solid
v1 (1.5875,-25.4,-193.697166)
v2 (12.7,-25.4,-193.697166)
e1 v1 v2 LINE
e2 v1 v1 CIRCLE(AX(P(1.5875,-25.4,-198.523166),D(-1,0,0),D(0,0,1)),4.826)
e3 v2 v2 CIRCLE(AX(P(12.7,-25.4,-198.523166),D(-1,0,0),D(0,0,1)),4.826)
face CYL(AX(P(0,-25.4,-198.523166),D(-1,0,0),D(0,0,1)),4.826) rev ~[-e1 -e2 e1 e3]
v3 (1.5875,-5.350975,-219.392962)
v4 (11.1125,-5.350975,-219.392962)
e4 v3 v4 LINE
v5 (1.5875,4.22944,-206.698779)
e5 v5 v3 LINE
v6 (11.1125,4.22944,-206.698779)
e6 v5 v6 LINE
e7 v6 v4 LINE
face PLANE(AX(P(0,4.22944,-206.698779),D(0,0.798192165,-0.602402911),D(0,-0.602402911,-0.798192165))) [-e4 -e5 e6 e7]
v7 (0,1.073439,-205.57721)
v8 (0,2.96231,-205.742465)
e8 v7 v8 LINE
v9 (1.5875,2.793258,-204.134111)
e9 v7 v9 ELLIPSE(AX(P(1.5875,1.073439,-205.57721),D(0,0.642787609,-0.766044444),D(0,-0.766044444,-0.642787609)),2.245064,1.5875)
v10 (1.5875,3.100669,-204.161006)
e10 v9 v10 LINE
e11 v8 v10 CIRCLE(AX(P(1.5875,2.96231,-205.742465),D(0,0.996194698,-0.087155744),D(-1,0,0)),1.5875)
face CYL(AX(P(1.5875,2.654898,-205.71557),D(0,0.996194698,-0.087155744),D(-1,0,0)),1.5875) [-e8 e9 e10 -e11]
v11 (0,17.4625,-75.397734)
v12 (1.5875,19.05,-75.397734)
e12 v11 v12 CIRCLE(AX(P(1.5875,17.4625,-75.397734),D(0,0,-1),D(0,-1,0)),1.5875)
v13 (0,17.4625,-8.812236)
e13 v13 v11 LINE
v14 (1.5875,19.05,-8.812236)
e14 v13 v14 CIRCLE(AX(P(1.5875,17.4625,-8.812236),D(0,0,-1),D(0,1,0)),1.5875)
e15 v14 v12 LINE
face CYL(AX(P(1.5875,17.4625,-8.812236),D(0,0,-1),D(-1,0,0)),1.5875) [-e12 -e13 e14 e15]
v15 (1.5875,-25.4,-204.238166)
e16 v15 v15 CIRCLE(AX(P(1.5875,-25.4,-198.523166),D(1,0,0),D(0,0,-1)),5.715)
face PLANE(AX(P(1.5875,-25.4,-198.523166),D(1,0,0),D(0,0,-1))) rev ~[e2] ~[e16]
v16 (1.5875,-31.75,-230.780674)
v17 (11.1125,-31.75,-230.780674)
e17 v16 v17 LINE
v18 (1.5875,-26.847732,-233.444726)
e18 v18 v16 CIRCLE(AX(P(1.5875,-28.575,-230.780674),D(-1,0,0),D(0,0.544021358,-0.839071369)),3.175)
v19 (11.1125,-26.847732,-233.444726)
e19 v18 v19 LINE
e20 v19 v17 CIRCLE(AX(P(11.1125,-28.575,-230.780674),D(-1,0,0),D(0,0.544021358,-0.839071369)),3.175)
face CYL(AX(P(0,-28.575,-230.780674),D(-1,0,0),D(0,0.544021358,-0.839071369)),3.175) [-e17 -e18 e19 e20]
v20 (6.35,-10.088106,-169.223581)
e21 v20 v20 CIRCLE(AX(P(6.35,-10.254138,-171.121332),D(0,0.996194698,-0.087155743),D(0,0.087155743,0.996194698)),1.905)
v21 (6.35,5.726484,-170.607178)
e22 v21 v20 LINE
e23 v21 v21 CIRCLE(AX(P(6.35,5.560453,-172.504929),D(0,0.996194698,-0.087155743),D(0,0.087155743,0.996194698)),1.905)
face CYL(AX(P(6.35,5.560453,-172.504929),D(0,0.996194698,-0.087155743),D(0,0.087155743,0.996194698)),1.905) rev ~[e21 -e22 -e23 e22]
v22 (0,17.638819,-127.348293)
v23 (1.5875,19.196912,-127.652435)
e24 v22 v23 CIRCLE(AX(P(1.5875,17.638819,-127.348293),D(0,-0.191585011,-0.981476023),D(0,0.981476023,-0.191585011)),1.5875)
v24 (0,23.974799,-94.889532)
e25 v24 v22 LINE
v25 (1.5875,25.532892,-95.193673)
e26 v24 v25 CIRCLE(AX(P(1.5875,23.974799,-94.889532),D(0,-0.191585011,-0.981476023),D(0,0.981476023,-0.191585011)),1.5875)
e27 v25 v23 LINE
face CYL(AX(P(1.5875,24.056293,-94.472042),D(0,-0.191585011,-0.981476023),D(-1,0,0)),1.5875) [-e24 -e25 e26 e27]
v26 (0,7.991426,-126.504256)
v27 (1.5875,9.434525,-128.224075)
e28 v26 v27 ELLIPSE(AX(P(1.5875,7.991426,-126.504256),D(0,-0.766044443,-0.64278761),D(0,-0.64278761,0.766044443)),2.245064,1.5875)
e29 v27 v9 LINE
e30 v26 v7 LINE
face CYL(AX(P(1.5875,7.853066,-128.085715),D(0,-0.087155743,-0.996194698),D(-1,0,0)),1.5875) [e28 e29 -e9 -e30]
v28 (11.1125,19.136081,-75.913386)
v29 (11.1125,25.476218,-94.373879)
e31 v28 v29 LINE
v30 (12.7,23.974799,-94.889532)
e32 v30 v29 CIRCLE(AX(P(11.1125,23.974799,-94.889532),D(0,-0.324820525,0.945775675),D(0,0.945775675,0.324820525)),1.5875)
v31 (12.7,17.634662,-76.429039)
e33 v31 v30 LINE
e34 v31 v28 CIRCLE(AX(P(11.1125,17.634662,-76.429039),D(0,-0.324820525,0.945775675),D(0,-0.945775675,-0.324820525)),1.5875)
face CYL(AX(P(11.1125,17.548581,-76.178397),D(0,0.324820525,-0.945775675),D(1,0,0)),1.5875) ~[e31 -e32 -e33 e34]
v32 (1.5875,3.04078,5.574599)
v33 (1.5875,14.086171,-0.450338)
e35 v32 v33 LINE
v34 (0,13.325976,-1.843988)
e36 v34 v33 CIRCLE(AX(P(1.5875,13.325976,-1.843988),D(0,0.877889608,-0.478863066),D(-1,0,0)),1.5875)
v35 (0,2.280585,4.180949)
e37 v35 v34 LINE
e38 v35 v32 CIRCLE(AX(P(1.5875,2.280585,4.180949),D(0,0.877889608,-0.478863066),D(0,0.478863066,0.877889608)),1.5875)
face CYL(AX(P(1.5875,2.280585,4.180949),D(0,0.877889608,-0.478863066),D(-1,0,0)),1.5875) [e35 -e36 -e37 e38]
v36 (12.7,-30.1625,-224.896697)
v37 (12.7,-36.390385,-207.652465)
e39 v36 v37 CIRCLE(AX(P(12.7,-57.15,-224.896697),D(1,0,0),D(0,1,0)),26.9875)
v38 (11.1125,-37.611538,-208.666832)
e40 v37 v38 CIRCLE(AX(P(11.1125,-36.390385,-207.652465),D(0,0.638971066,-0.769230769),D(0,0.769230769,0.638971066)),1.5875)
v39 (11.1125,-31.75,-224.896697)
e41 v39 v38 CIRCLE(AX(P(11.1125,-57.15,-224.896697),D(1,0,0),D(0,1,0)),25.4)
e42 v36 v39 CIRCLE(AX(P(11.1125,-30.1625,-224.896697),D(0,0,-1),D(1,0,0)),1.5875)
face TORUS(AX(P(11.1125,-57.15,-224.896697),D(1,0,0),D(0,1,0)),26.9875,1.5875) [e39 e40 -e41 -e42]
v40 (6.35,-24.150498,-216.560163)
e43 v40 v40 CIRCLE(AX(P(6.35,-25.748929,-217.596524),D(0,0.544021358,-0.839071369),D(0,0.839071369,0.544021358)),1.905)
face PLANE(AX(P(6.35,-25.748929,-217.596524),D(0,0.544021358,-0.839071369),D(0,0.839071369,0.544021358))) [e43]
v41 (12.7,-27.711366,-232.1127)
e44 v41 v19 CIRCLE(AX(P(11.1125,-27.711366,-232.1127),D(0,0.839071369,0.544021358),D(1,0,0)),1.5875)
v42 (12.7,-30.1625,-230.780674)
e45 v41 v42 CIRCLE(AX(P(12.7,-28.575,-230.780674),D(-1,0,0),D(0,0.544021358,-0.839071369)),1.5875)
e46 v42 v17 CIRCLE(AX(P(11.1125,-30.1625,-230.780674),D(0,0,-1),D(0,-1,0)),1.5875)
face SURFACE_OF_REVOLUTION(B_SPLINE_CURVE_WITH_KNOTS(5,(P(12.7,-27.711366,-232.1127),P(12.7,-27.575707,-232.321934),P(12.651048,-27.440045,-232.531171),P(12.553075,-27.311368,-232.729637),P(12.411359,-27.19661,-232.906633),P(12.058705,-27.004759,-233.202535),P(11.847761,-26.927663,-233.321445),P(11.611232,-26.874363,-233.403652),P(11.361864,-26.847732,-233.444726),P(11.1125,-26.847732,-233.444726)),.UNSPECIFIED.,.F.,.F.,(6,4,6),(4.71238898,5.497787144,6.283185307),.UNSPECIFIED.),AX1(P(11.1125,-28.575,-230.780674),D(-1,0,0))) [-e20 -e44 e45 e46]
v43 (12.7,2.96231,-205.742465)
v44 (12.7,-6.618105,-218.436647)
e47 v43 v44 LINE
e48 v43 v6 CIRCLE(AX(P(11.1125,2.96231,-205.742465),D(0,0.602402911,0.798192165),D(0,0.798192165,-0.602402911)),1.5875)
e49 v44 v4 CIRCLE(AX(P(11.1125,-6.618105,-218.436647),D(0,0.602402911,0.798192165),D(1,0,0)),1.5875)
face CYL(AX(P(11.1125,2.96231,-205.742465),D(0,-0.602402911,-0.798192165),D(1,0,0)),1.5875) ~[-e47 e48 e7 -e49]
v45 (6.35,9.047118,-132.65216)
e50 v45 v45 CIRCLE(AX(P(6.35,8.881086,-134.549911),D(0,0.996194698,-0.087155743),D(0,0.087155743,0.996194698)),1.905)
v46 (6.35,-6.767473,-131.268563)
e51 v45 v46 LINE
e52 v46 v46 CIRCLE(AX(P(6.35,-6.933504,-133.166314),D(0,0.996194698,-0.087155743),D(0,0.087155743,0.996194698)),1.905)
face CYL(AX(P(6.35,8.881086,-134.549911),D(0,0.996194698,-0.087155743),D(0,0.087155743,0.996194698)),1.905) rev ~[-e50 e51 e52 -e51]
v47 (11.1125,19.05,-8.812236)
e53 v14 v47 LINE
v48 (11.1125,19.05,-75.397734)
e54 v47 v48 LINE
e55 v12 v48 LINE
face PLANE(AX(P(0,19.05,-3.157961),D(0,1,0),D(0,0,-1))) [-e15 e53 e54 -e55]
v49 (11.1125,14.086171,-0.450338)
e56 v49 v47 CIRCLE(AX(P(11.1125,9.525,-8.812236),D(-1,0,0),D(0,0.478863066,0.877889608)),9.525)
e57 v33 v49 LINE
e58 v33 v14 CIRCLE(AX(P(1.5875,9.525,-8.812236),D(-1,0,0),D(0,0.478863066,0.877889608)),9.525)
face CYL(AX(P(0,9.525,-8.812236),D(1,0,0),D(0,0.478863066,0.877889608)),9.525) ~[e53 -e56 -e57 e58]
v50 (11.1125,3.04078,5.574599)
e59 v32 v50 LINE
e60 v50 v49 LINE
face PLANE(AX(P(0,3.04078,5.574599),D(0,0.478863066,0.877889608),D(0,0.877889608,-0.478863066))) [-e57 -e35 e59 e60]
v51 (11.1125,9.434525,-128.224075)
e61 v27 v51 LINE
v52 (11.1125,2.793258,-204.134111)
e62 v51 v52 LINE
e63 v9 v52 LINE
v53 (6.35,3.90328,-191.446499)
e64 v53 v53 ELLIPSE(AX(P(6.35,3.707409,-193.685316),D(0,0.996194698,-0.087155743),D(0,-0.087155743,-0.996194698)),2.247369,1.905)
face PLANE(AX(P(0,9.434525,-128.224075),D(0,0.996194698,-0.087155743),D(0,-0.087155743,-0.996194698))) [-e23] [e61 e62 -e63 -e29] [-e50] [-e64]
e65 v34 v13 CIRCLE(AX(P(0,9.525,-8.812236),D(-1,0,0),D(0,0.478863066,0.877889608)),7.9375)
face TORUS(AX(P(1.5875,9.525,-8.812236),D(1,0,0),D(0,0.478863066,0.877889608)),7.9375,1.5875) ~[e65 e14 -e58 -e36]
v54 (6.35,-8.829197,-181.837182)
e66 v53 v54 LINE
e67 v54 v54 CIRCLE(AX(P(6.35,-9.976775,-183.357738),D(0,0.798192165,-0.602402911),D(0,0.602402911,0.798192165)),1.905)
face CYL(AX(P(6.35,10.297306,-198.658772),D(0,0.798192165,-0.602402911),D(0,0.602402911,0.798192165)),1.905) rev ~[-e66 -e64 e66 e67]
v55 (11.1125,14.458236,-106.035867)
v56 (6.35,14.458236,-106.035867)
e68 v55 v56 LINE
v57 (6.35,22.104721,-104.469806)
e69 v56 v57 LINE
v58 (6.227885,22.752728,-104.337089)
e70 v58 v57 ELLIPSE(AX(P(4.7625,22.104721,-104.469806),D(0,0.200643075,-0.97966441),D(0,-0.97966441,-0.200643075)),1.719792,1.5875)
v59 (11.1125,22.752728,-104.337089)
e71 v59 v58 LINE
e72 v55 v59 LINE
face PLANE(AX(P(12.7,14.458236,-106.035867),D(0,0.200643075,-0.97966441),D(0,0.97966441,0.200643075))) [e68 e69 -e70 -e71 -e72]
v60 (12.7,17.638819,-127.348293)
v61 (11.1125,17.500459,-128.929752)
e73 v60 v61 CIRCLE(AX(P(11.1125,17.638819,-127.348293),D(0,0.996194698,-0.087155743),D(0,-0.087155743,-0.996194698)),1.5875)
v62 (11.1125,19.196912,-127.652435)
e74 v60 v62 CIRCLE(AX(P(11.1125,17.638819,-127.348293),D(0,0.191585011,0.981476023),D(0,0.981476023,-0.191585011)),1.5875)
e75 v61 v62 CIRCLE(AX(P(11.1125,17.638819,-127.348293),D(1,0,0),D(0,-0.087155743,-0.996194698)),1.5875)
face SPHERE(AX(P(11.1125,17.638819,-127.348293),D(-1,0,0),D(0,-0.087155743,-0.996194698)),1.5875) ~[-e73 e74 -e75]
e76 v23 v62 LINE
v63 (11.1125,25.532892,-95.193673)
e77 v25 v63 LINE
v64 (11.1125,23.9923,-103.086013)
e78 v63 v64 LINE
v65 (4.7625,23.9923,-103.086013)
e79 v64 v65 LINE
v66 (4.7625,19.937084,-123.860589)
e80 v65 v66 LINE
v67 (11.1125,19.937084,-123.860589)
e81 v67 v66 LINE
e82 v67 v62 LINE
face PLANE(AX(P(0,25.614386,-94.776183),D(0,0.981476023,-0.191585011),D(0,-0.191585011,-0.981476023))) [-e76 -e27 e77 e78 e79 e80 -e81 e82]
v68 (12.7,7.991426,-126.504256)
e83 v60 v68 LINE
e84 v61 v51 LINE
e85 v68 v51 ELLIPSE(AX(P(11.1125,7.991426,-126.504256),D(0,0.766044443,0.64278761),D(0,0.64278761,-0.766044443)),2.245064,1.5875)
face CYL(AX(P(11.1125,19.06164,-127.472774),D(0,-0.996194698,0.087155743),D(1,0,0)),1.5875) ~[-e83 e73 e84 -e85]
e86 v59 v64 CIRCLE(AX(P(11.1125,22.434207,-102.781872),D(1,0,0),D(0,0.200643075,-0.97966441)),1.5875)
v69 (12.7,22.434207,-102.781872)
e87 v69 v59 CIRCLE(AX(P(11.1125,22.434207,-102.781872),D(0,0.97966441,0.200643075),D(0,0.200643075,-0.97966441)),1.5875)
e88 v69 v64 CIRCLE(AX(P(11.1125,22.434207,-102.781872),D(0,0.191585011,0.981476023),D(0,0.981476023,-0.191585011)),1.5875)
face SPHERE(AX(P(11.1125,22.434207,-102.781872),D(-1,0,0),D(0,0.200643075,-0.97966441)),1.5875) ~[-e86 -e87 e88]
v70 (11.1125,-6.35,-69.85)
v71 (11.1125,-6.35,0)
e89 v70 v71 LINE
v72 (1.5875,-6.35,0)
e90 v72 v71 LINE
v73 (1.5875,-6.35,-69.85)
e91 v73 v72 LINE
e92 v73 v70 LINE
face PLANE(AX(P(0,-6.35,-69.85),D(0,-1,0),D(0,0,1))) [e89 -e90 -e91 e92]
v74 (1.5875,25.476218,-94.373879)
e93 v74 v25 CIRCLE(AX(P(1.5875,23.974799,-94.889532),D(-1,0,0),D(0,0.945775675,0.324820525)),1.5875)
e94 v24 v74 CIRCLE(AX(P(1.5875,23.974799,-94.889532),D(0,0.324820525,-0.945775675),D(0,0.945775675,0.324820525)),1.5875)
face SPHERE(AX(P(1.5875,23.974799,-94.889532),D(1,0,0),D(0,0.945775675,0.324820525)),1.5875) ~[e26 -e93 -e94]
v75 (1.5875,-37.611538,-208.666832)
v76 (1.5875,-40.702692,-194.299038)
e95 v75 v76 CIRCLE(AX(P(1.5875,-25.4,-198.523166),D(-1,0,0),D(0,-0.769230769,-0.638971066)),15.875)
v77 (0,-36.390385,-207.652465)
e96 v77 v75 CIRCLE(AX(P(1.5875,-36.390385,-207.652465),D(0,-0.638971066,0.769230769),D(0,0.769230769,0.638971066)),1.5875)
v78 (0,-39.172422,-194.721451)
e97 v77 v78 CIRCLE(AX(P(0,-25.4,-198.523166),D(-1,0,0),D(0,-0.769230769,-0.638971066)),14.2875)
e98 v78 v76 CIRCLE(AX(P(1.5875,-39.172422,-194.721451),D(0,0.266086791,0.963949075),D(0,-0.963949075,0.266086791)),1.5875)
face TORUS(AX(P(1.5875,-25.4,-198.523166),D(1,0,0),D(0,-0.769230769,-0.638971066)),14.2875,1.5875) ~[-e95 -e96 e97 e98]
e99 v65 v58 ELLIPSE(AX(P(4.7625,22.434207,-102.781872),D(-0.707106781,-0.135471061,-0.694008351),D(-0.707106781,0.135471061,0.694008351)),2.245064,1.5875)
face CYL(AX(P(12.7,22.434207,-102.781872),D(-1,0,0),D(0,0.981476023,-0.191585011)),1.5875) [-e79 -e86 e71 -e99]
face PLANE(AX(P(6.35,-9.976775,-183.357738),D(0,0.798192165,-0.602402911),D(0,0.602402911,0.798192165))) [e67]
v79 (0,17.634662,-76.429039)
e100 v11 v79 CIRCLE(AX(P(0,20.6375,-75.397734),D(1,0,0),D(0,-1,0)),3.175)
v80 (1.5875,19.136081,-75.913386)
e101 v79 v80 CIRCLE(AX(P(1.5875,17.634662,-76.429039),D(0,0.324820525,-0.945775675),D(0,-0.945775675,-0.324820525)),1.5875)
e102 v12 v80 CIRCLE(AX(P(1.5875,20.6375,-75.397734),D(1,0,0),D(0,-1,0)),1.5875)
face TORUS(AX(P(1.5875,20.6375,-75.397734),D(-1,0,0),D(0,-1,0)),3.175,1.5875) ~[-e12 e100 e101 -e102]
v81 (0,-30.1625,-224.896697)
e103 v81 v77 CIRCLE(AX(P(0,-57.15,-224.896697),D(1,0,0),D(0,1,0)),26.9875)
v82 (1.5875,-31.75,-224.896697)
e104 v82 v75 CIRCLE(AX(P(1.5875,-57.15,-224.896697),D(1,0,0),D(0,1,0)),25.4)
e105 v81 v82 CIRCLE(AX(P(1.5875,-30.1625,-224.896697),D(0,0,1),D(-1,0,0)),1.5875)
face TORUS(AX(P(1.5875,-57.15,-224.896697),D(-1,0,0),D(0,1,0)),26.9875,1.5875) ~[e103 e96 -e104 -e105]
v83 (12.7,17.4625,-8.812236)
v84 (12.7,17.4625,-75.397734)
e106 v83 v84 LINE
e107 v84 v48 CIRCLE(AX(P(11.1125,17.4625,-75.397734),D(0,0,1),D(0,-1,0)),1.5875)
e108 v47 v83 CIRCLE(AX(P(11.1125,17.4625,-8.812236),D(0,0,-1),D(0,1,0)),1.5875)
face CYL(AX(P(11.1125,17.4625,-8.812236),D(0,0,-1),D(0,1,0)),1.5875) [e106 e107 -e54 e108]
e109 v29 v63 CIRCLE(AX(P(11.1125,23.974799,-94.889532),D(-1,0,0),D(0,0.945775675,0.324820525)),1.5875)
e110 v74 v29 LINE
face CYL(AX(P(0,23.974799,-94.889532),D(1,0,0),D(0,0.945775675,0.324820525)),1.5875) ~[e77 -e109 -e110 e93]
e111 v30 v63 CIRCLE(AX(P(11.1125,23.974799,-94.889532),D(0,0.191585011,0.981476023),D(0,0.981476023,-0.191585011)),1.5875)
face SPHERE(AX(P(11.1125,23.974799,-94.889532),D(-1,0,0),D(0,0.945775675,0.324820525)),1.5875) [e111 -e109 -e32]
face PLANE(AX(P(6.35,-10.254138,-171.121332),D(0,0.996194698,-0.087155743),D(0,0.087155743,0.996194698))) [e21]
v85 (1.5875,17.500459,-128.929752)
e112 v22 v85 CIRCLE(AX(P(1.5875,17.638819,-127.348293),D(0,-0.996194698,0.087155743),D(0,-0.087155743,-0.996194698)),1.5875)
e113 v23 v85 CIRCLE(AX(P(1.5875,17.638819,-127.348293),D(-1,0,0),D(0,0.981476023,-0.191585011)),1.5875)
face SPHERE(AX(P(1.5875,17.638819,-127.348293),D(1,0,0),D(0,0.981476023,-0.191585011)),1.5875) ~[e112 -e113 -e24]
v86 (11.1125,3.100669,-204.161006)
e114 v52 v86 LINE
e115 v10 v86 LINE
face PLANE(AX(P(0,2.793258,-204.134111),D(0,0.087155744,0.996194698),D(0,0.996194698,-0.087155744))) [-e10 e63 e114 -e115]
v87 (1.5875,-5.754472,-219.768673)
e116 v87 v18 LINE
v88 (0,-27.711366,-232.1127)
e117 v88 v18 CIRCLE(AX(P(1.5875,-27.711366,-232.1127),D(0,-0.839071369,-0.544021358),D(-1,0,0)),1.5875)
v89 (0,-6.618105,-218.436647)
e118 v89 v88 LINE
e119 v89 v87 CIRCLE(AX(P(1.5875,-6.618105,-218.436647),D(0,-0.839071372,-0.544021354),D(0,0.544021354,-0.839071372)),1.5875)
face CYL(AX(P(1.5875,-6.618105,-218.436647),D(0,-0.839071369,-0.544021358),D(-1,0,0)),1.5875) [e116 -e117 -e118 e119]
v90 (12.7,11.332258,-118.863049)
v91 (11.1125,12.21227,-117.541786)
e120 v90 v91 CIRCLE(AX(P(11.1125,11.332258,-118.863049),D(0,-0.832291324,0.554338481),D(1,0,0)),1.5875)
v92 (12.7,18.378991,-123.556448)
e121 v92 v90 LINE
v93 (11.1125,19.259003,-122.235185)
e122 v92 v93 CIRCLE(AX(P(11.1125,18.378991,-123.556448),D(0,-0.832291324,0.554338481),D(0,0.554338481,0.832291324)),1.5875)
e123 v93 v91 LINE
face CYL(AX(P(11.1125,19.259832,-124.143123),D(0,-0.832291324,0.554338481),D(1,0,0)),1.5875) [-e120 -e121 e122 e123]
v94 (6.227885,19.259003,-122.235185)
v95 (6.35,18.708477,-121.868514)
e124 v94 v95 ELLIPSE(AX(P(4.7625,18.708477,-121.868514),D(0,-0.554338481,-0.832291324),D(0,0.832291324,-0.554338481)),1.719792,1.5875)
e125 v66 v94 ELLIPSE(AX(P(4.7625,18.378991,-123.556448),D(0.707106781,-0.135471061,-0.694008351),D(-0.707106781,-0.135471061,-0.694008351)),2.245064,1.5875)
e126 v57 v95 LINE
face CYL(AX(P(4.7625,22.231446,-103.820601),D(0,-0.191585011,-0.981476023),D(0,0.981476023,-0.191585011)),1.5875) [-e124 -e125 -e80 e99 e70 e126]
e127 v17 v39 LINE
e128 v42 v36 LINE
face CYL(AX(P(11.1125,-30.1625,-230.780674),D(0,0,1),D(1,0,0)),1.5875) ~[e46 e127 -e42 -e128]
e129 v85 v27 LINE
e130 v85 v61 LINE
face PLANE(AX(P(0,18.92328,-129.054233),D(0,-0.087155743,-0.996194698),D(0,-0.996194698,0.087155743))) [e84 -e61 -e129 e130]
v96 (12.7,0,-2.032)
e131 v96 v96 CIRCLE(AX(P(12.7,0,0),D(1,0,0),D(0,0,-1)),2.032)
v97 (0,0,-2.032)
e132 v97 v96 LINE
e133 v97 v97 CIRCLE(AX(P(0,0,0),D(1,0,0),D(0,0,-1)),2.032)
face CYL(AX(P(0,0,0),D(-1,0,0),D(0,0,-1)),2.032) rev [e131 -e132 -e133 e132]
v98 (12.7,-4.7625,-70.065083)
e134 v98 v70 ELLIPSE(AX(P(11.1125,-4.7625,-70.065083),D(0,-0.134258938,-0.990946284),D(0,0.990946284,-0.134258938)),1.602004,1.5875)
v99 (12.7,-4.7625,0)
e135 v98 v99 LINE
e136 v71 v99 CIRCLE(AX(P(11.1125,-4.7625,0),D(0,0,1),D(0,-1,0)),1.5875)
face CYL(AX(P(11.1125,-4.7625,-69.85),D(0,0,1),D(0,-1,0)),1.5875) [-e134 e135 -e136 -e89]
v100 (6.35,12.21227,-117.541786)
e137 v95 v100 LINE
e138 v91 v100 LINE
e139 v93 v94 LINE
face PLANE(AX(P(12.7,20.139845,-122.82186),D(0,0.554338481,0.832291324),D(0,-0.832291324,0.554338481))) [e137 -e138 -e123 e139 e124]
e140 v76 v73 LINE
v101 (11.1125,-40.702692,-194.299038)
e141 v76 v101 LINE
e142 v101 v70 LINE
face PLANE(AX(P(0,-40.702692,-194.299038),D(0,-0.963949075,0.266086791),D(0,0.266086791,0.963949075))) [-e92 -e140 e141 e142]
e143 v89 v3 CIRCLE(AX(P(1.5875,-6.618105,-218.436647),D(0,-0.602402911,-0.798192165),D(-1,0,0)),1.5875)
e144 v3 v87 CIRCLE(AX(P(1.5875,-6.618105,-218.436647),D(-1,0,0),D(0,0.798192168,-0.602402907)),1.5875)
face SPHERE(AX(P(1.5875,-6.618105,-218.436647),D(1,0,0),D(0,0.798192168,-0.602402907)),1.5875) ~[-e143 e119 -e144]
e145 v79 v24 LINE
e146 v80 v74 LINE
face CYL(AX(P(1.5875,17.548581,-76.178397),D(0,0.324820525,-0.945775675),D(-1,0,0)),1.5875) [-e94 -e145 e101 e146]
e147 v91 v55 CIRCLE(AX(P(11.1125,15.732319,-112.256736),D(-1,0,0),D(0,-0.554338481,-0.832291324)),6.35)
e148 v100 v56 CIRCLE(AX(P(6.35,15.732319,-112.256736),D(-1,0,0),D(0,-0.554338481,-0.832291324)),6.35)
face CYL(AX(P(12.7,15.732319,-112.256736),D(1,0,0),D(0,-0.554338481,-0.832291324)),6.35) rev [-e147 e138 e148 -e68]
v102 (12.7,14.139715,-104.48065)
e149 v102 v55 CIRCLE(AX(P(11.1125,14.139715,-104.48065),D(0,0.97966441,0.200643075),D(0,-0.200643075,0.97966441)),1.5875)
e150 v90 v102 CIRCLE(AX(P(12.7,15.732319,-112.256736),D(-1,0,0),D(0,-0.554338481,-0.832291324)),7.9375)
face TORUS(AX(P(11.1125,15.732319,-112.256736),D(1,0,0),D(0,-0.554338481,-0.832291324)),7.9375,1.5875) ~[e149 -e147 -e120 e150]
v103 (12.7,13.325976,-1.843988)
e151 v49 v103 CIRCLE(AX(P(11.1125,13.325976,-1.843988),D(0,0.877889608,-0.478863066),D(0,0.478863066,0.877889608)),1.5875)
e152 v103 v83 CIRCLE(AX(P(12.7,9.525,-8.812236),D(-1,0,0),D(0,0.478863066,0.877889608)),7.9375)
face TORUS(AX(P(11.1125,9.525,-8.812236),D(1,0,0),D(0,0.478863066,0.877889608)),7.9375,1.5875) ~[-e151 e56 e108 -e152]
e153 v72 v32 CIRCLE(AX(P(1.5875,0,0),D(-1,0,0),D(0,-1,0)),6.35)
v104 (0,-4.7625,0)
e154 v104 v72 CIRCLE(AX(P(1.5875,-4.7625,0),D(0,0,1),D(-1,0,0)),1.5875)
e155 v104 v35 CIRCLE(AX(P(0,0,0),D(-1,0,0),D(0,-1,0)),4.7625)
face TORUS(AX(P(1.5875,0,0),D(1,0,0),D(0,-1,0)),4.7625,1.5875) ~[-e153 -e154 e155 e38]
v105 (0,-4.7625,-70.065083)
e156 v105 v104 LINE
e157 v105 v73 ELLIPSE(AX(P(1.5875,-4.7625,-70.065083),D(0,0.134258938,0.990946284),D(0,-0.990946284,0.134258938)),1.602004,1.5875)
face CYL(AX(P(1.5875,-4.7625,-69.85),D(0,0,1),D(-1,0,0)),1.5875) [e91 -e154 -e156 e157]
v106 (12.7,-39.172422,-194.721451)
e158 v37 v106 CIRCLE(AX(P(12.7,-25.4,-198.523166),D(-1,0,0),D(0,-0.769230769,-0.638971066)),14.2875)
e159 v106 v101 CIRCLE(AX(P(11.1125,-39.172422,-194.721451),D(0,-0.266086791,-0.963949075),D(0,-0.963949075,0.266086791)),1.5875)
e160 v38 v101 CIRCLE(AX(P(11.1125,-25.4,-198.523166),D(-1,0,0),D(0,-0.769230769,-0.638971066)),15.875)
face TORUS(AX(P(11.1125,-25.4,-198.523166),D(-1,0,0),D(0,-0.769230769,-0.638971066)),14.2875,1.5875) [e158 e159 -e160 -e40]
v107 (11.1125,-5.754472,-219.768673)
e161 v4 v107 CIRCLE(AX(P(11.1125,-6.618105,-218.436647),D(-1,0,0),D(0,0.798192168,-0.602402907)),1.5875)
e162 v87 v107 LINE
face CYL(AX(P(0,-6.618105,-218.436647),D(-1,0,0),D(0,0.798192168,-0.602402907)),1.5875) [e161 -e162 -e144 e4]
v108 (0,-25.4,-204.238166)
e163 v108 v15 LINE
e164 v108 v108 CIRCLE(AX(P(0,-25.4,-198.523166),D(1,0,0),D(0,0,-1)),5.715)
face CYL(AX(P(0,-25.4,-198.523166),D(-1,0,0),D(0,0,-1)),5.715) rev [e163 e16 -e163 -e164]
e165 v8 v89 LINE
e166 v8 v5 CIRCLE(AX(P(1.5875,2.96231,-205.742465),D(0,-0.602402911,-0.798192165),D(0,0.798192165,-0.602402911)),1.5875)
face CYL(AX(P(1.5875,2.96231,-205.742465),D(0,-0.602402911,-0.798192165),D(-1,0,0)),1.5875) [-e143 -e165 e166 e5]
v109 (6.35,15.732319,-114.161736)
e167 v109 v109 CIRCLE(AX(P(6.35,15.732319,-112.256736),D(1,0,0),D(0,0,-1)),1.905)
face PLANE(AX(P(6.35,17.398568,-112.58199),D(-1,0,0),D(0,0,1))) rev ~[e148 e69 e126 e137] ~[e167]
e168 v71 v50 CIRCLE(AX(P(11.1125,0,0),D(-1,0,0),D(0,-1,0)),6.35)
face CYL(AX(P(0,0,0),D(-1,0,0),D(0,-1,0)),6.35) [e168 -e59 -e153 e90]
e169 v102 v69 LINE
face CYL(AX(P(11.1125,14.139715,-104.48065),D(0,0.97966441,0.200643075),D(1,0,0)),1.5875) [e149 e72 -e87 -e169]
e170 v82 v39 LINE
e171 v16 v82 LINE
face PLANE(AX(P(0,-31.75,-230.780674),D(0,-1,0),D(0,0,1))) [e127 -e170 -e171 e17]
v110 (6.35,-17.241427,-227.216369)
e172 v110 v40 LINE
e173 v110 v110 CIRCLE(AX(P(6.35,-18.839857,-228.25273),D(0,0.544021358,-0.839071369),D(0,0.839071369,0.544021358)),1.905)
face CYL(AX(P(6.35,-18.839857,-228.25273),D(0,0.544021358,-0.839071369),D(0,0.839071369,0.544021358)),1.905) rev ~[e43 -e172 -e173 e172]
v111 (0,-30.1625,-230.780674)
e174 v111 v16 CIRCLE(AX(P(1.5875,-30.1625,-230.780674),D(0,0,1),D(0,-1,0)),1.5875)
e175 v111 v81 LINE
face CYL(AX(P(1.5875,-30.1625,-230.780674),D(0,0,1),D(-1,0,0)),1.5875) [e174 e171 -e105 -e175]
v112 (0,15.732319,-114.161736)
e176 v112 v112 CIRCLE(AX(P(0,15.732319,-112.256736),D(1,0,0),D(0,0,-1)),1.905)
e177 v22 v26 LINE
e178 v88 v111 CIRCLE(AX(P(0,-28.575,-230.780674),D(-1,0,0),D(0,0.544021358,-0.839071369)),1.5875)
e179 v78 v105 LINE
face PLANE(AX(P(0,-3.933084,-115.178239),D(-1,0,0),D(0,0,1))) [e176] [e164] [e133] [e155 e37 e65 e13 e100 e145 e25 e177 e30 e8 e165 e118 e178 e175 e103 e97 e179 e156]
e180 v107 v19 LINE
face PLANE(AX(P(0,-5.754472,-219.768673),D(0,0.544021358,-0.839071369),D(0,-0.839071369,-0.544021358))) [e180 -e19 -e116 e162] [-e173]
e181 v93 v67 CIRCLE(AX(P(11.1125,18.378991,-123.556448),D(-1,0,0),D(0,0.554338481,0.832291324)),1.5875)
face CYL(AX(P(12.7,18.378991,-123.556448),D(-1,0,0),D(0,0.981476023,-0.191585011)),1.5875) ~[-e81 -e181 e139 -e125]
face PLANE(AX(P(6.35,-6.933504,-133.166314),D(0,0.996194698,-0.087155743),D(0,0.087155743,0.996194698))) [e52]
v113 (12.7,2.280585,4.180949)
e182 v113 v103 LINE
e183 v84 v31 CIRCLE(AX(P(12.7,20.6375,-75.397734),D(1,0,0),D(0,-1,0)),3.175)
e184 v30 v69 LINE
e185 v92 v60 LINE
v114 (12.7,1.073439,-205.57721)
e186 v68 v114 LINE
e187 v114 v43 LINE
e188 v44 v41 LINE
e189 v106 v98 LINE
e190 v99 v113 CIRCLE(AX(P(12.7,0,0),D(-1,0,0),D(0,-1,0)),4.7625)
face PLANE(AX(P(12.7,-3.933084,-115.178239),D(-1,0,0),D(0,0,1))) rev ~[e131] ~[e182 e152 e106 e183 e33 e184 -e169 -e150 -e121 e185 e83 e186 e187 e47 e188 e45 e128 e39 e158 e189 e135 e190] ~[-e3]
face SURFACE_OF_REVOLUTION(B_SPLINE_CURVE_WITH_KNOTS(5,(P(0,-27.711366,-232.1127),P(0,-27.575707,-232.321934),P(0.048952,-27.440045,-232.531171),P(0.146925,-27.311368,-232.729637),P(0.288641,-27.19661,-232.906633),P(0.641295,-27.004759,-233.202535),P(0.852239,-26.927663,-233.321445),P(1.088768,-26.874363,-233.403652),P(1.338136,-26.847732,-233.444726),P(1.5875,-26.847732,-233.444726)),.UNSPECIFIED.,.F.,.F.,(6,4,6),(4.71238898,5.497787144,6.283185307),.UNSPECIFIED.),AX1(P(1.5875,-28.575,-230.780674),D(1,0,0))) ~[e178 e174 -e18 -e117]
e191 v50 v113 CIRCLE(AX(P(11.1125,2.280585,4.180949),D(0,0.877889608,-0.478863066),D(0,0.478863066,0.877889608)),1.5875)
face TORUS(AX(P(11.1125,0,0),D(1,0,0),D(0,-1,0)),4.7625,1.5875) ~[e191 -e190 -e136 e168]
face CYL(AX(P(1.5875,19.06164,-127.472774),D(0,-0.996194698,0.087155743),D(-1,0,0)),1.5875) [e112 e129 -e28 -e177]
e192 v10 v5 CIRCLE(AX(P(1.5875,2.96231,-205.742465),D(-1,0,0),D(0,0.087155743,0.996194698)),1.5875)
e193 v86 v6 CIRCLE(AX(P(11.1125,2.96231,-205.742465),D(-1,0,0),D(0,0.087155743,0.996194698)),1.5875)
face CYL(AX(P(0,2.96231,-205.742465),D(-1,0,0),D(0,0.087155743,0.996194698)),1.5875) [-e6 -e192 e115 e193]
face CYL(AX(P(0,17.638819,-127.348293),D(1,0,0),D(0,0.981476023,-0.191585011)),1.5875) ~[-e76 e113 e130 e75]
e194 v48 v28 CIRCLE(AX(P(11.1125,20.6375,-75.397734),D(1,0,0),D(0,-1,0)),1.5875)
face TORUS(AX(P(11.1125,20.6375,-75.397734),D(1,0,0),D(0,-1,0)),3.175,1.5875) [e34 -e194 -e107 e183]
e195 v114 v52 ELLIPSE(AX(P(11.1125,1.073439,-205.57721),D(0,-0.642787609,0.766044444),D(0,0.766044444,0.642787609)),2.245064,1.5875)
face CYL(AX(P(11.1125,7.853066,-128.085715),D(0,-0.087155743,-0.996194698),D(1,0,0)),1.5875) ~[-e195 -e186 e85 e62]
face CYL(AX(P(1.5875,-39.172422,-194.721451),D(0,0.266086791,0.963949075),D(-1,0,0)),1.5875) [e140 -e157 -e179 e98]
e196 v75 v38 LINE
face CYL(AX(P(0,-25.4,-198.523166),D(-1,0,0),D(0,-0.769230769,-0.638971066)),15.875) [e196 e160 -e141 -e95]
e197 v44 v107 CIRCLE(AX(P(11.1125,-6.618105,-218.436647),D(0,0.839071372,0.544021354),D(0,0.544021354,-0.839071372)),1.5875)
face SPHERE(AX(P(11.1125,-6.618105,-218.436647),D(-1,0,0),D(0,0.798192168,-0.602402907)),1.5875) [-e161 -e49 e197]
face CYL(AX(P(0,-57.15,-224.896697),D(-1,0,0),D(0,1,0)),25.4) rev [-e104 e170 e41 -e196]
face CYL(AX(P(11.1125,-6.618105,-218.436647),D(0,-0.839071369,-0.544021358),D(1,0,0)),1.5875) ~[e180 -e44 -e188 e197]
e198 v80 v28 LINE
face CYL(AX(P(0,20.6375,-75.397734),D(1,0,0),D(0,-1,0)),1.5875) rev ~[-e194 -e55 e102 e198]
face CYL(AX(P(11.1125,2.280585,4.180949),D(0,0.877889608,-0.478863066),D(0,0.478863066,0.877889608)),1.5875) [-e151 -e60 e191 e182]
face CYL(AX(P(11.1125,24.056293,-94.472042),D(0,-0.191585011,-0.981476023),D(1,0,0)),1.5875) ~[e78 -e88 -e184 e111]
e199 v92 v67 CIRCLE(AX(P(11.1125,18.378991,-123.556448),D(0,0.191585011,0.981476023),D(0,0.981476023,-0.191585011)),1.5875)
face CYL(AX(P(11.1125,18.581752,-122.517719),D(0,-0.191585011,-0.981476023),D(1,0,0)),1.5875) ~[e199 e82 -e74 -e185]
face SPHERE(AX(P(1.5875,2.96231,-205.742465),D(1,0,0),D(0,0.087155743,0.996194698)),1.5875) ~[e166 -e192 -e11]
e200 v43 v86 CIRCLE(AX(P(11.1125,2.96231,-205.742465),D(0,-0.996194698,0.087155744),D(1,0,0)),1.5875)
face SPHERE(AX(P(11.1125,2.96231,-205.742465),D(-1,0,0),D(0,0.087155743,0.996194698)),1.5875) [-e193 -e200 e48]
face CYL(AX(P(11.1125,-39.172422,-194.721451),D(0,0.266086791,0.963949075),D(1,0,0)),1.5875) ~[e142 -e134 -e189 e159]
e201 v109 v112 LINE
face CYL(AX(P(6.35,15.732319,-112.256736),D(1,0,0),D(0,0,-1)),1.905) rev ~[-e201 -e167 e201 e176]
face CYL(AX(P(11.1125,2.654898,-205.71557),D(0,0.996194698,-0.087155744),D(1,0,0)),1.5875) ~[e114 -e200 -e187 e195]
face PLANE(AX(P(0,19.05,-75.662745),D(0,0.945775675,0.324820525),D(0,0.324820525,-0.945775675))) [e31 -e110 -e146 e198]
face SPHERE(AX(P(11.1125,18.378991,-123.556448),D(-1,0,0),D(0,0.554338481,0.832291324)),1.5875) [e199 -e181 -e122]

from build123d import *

# Parameters (mm, degrees)
SKETCH1_R           = 2.032
BOSS_EXTRUDE1_DEPTH = 12.7
FILLET1_R           = 9.525
SKETCH2_R           = 4.826
CUT_EXTRUDE1_DEPTH  = 238.90790865
CUT_EXTRUDE6_DEPTH  = 6.35
SKETCH10_R          = 1.905
CUT_EXTRUDE7_DEPTH  = 238.653540891
SKETCH4_R           = 5.715
CUT_EXTRUDE2_DEPTH  = 1.5875
FILLET2_R           = 1.5875
SKETCH6_R           = 1.905
CUT_EXTRUDE3_DEPTH  = 25.4
SKETCH7_R           = 1.905
CUT_EXTRUDE4_DEPTH  = 15.875
SKETCH8_R           = 1.905
CUT_EXTRUDE5_DEPTH  = 12.7


with BuildPart() as part:
    # Sketch1 → Boss-Extrude1 (new body)
    with BuildSketch(Plane(origin=(0, 0, 0), x_dir=(0, 0, -1), z_dir=(1, 0, 0))):
        with BuildLine():
            Line((-5.574599012, 3.040780467), (3.157961292, 19.05))
            Line((3.157961292, 19.05), (75.662744852, 19.05))
            Line((75.662744852, 19.05), (94.776183001, 25.614386431))
            Line((94.776183001, 25.614386431), (129.054233098, 18.923279907))
            Line((129.054233098, 18.923279907), (128.224074649, 9.434525408))
            Line((128.224074649, 9.434525408), (204.134110643, 2.79325781))
            Line((204.134110643, 2.79325781), (204.161005679, 3.100669472))
            ThreePointArc((204.161005679, 3.100669472), (205.09730431, 4.412800765), (206.698779384, 4.229439793))
            Line((206.698779384, 4.229439793), (219.392961654, -5.350975413))
            ThreePointArc((219.392961654, -5.350975413), (219.598467913, -5.536288257), (219.768672831, -5.75447157))
            Line((219.768672831, -5.75447157), (233.444725546, -26.84773219))
            ThreePointArc((233.444725546, -26.84773219), (233.570360338, -30.091006218), (230.780673949, -31.75))
            Line((230.780673949, -31.75), (224.896696771, -31.75))
            ThreePointArc((224.896696771, -31.75), (216.268745771, -33.260285445), (208.666831685, -37.611538462))
            ThreePointArc((208.666831685, -37.611538462), (201.862183679, -40.919877125), (194.299038193, -40.702691568))
            Line((194.299038193, -40.702691568), (69.85, -6.35))
            Line((69.85, -6.35), (0, -6.35))
            ThreePointArc((0, -6.35), (-5.460378007, -3.241415126), (-5.574599012, 3.040780467))
        make_face()
        Circle(SKETCH1_R, mode=Mode.SUBTRACT)
    extrude(amount=BOSS_EXTRUDE1_DEPTH)

    # Fillet1
    fillet1_edges = [part.edges().sort_by_distance(p)[0] for p in [
        (6.35, 19.05, -3.157961292),
    ]]
    fillet(fillet1_edges, radius=FILLET1_R)

    # Sketch2 → Cut-Extrude1 (cut, through all)
    with BuildSketch(Plane.ZY):
        with Locations((-198.523166007, -25.4)):
            Circle(SKETCH2_R)
    extrude(amount=-CUT_EXTRUDE1_DEPTH, mode=Mode.SUBTRACT)

    # Sketch9 → Cut-Extrude6 (cut)
    with BuildSketch(Plane(origin=(12.7, 0, 0), x_dir=(0, 0, -1), z_dir=(1, 0, 0))):
        with BuildLine():
            Line((106.035867409, 14.458235691), (104.124742118, 23.789539197))
            Line((104.124742118, 23.789539197), (122.821860353, 20.13984473))
            Line((122.821860353, 20.13984473), (117.541786323, 12.212269865))
            ThreePointArc((117.541786323, 12.212269865), (111.040171591, 9.499946473), (106.035867409, 14.458235691))
        make_face()
    extrude(amount=-CUT_EXTRUDE6_DEPTH, mode=Mode.SUBTRACT)

    # Sketch10 → Cut-Extrude7 (cut, through all)
    with BuildSketch(Plane(origin=(6.35, 0, 0), x_dir=(0, 0, -1), z_dir=(1, 0, 0))):
        with Locations((112.256736413, 15.732319218)):
            Circle(SKETCH10_R)
    extrude(amount=-CUT_EXTRUDE7_DEPTH, mode=Mode.SUBTRACT)

    # Sketch4 → Cut-Extrude2 (cut)
    with BuildSketch(Plane(origin=(0, 0, 0), x_dir=(0, 0, -1), z_dir=(1, 0, 0))):
        with Locations((198.523166007, -25.4)):
            Circle(SKETCH4_R)
    extrude(amount=CUT_EXTRUDE2_DEPTH, mode=Mode.SUBTRACT)

    # Fillet2
    fillet2_edges = [part.edges().sort_by_distance(p)[0] for p in [
        (12.7, -23.526345784, -132.074519097),
        (12.7, -40.919877125, -201.862183679),
        (0, 19.05, -42.237490592),
        (0, 22.332193215, -85.219463927),
        (0, 22.268833169, -111.91520805),
        (0, 14.178902657, -128.639153874),
        (0, 6.113891609, -166.179092646),
        (0, 2.946963641, -204.147558161),
        (0, 4.412800765, -205.09730431),
        (0, -0.56076781, -213.045870519),
        (12.7, -33.260285445, -216.268745771),
        (0, -5.536288257, -219.598467913),
        (0, -16.30110188, -226.606699189),
        (0, -30.091006218, -233.570360338),
        (0, -31.75, -227.83868536),
        (0, -33.260285445, -216.268745771),
        (0, -40.919877125, -201.862183679),
        (0, -23.526345784, -132.074519097),
        (0, -6.35, -34.925),
        (0, -3.241415126, 5.460378007),
        (12.7, -31.75, -227.83868536),
        (12.7, -30.091006218, -233.570360338),
        (6.35, 19.05, -75.662744852),
        (6.35, 25.614386431, -94.776183001),
        (6.35, 18.923279907, -129.054233098),
        (12.7, -16.30110188, -226.606699189),
        (12.7, -5.536288257, -219.598467913),
        (12.7, -0.56076781, -213.045870519),
        (12.7, 4.412800765, -205.09730431),
        (12.7, 2.946963641, -204.147558161),
        (12.7, -3.241415126, 5.460378007),
        (12.7, 6.113891609, -166.179092646),
        (0, 8.563475584, 2.5621306),
        (12.7, 8.563475584, 2.5621306),
        (12.7, 14.178902657, -128.639153874),
        (0, 17.715567011, -3.950113643),
        (12.7, 17.715567011, -3.950113643),
        (12.7, 19.531562318, -125.938046726),
        (12.7, 22.332193215, -85.219463927),
        (12.7, 19.05, -42.237490592),
        (12.7, 24.701962814, -99.45046256),
        (6.35, 21.964691963, -113.473301236),
        (9.525, 23.789539197, -104.124742118),
        (9.525, 20.13984473, -122.821860353),
        (12.7, 9.499946473, -111.040171591),
        (12.7, 16.176057297, -120.181823338),
        (12.7, 19.123887444, -105.080304764),
        (12.7, -6.35, -34.925),
    ]]
    fillet(fillet2_edges, radius=FILLET2_R)

    # Sketch6 → Cut-Extrude3 (cut)
    with BuildSketch(Plane(origin=(0, 102.082274381, -77.04242407), x_dir=(1, 0, 0), z_dir=(0, 0.798192165141452, -0.6024029112701905))):
        with Locations(Location((6.35, 152.364748226, 0), (0, 0, 270))):
            Circle(SKETCH6_R)
    extrude(amount=-CUT_EXTRUDE3_DEPTH, mode=Mode.SUBTRACT)

    # Sketch7 → Cut-Extrude4 (cut)
    with BuildSketch(Plane(origin=(0, 20.495798036, -1.793149978), x_dir=(1, 0, 0), z_dir=(0, 0.996194698091746, -0.0871557427476538))):
        with Locations(Location((6.35, 171.363870263, 0), (0, 0, 270))):
            Circle(SKETCH7_R)
        with Locations(Location((6.35, 133.263870263, 0), (0, 0, 270))):
            Circle(SKETCH7_R)
    extrude(amount=-CUT_EXTRUDE4_DEPTH, mode=Mode.SUBTRACT)

    # Sketch8 → Cut-Extrude5 (cut)
    with BuildSketch(Plane(origin=(0, 98.615320401, -152.099344577), x_dir=(-1, 0, 0), z_dir=(0, 0.5440213575001199, -0.839071369183651))):
        with Locations(Location((-6.35, -139.982344987, 0), (0, 0, 90))):
            Circle(SKETCH8_R)
    extrude(amount=-CUT_EXTRUDE5_DEPTH, mode=Mode.SUBTRACT)


solid = part.part
